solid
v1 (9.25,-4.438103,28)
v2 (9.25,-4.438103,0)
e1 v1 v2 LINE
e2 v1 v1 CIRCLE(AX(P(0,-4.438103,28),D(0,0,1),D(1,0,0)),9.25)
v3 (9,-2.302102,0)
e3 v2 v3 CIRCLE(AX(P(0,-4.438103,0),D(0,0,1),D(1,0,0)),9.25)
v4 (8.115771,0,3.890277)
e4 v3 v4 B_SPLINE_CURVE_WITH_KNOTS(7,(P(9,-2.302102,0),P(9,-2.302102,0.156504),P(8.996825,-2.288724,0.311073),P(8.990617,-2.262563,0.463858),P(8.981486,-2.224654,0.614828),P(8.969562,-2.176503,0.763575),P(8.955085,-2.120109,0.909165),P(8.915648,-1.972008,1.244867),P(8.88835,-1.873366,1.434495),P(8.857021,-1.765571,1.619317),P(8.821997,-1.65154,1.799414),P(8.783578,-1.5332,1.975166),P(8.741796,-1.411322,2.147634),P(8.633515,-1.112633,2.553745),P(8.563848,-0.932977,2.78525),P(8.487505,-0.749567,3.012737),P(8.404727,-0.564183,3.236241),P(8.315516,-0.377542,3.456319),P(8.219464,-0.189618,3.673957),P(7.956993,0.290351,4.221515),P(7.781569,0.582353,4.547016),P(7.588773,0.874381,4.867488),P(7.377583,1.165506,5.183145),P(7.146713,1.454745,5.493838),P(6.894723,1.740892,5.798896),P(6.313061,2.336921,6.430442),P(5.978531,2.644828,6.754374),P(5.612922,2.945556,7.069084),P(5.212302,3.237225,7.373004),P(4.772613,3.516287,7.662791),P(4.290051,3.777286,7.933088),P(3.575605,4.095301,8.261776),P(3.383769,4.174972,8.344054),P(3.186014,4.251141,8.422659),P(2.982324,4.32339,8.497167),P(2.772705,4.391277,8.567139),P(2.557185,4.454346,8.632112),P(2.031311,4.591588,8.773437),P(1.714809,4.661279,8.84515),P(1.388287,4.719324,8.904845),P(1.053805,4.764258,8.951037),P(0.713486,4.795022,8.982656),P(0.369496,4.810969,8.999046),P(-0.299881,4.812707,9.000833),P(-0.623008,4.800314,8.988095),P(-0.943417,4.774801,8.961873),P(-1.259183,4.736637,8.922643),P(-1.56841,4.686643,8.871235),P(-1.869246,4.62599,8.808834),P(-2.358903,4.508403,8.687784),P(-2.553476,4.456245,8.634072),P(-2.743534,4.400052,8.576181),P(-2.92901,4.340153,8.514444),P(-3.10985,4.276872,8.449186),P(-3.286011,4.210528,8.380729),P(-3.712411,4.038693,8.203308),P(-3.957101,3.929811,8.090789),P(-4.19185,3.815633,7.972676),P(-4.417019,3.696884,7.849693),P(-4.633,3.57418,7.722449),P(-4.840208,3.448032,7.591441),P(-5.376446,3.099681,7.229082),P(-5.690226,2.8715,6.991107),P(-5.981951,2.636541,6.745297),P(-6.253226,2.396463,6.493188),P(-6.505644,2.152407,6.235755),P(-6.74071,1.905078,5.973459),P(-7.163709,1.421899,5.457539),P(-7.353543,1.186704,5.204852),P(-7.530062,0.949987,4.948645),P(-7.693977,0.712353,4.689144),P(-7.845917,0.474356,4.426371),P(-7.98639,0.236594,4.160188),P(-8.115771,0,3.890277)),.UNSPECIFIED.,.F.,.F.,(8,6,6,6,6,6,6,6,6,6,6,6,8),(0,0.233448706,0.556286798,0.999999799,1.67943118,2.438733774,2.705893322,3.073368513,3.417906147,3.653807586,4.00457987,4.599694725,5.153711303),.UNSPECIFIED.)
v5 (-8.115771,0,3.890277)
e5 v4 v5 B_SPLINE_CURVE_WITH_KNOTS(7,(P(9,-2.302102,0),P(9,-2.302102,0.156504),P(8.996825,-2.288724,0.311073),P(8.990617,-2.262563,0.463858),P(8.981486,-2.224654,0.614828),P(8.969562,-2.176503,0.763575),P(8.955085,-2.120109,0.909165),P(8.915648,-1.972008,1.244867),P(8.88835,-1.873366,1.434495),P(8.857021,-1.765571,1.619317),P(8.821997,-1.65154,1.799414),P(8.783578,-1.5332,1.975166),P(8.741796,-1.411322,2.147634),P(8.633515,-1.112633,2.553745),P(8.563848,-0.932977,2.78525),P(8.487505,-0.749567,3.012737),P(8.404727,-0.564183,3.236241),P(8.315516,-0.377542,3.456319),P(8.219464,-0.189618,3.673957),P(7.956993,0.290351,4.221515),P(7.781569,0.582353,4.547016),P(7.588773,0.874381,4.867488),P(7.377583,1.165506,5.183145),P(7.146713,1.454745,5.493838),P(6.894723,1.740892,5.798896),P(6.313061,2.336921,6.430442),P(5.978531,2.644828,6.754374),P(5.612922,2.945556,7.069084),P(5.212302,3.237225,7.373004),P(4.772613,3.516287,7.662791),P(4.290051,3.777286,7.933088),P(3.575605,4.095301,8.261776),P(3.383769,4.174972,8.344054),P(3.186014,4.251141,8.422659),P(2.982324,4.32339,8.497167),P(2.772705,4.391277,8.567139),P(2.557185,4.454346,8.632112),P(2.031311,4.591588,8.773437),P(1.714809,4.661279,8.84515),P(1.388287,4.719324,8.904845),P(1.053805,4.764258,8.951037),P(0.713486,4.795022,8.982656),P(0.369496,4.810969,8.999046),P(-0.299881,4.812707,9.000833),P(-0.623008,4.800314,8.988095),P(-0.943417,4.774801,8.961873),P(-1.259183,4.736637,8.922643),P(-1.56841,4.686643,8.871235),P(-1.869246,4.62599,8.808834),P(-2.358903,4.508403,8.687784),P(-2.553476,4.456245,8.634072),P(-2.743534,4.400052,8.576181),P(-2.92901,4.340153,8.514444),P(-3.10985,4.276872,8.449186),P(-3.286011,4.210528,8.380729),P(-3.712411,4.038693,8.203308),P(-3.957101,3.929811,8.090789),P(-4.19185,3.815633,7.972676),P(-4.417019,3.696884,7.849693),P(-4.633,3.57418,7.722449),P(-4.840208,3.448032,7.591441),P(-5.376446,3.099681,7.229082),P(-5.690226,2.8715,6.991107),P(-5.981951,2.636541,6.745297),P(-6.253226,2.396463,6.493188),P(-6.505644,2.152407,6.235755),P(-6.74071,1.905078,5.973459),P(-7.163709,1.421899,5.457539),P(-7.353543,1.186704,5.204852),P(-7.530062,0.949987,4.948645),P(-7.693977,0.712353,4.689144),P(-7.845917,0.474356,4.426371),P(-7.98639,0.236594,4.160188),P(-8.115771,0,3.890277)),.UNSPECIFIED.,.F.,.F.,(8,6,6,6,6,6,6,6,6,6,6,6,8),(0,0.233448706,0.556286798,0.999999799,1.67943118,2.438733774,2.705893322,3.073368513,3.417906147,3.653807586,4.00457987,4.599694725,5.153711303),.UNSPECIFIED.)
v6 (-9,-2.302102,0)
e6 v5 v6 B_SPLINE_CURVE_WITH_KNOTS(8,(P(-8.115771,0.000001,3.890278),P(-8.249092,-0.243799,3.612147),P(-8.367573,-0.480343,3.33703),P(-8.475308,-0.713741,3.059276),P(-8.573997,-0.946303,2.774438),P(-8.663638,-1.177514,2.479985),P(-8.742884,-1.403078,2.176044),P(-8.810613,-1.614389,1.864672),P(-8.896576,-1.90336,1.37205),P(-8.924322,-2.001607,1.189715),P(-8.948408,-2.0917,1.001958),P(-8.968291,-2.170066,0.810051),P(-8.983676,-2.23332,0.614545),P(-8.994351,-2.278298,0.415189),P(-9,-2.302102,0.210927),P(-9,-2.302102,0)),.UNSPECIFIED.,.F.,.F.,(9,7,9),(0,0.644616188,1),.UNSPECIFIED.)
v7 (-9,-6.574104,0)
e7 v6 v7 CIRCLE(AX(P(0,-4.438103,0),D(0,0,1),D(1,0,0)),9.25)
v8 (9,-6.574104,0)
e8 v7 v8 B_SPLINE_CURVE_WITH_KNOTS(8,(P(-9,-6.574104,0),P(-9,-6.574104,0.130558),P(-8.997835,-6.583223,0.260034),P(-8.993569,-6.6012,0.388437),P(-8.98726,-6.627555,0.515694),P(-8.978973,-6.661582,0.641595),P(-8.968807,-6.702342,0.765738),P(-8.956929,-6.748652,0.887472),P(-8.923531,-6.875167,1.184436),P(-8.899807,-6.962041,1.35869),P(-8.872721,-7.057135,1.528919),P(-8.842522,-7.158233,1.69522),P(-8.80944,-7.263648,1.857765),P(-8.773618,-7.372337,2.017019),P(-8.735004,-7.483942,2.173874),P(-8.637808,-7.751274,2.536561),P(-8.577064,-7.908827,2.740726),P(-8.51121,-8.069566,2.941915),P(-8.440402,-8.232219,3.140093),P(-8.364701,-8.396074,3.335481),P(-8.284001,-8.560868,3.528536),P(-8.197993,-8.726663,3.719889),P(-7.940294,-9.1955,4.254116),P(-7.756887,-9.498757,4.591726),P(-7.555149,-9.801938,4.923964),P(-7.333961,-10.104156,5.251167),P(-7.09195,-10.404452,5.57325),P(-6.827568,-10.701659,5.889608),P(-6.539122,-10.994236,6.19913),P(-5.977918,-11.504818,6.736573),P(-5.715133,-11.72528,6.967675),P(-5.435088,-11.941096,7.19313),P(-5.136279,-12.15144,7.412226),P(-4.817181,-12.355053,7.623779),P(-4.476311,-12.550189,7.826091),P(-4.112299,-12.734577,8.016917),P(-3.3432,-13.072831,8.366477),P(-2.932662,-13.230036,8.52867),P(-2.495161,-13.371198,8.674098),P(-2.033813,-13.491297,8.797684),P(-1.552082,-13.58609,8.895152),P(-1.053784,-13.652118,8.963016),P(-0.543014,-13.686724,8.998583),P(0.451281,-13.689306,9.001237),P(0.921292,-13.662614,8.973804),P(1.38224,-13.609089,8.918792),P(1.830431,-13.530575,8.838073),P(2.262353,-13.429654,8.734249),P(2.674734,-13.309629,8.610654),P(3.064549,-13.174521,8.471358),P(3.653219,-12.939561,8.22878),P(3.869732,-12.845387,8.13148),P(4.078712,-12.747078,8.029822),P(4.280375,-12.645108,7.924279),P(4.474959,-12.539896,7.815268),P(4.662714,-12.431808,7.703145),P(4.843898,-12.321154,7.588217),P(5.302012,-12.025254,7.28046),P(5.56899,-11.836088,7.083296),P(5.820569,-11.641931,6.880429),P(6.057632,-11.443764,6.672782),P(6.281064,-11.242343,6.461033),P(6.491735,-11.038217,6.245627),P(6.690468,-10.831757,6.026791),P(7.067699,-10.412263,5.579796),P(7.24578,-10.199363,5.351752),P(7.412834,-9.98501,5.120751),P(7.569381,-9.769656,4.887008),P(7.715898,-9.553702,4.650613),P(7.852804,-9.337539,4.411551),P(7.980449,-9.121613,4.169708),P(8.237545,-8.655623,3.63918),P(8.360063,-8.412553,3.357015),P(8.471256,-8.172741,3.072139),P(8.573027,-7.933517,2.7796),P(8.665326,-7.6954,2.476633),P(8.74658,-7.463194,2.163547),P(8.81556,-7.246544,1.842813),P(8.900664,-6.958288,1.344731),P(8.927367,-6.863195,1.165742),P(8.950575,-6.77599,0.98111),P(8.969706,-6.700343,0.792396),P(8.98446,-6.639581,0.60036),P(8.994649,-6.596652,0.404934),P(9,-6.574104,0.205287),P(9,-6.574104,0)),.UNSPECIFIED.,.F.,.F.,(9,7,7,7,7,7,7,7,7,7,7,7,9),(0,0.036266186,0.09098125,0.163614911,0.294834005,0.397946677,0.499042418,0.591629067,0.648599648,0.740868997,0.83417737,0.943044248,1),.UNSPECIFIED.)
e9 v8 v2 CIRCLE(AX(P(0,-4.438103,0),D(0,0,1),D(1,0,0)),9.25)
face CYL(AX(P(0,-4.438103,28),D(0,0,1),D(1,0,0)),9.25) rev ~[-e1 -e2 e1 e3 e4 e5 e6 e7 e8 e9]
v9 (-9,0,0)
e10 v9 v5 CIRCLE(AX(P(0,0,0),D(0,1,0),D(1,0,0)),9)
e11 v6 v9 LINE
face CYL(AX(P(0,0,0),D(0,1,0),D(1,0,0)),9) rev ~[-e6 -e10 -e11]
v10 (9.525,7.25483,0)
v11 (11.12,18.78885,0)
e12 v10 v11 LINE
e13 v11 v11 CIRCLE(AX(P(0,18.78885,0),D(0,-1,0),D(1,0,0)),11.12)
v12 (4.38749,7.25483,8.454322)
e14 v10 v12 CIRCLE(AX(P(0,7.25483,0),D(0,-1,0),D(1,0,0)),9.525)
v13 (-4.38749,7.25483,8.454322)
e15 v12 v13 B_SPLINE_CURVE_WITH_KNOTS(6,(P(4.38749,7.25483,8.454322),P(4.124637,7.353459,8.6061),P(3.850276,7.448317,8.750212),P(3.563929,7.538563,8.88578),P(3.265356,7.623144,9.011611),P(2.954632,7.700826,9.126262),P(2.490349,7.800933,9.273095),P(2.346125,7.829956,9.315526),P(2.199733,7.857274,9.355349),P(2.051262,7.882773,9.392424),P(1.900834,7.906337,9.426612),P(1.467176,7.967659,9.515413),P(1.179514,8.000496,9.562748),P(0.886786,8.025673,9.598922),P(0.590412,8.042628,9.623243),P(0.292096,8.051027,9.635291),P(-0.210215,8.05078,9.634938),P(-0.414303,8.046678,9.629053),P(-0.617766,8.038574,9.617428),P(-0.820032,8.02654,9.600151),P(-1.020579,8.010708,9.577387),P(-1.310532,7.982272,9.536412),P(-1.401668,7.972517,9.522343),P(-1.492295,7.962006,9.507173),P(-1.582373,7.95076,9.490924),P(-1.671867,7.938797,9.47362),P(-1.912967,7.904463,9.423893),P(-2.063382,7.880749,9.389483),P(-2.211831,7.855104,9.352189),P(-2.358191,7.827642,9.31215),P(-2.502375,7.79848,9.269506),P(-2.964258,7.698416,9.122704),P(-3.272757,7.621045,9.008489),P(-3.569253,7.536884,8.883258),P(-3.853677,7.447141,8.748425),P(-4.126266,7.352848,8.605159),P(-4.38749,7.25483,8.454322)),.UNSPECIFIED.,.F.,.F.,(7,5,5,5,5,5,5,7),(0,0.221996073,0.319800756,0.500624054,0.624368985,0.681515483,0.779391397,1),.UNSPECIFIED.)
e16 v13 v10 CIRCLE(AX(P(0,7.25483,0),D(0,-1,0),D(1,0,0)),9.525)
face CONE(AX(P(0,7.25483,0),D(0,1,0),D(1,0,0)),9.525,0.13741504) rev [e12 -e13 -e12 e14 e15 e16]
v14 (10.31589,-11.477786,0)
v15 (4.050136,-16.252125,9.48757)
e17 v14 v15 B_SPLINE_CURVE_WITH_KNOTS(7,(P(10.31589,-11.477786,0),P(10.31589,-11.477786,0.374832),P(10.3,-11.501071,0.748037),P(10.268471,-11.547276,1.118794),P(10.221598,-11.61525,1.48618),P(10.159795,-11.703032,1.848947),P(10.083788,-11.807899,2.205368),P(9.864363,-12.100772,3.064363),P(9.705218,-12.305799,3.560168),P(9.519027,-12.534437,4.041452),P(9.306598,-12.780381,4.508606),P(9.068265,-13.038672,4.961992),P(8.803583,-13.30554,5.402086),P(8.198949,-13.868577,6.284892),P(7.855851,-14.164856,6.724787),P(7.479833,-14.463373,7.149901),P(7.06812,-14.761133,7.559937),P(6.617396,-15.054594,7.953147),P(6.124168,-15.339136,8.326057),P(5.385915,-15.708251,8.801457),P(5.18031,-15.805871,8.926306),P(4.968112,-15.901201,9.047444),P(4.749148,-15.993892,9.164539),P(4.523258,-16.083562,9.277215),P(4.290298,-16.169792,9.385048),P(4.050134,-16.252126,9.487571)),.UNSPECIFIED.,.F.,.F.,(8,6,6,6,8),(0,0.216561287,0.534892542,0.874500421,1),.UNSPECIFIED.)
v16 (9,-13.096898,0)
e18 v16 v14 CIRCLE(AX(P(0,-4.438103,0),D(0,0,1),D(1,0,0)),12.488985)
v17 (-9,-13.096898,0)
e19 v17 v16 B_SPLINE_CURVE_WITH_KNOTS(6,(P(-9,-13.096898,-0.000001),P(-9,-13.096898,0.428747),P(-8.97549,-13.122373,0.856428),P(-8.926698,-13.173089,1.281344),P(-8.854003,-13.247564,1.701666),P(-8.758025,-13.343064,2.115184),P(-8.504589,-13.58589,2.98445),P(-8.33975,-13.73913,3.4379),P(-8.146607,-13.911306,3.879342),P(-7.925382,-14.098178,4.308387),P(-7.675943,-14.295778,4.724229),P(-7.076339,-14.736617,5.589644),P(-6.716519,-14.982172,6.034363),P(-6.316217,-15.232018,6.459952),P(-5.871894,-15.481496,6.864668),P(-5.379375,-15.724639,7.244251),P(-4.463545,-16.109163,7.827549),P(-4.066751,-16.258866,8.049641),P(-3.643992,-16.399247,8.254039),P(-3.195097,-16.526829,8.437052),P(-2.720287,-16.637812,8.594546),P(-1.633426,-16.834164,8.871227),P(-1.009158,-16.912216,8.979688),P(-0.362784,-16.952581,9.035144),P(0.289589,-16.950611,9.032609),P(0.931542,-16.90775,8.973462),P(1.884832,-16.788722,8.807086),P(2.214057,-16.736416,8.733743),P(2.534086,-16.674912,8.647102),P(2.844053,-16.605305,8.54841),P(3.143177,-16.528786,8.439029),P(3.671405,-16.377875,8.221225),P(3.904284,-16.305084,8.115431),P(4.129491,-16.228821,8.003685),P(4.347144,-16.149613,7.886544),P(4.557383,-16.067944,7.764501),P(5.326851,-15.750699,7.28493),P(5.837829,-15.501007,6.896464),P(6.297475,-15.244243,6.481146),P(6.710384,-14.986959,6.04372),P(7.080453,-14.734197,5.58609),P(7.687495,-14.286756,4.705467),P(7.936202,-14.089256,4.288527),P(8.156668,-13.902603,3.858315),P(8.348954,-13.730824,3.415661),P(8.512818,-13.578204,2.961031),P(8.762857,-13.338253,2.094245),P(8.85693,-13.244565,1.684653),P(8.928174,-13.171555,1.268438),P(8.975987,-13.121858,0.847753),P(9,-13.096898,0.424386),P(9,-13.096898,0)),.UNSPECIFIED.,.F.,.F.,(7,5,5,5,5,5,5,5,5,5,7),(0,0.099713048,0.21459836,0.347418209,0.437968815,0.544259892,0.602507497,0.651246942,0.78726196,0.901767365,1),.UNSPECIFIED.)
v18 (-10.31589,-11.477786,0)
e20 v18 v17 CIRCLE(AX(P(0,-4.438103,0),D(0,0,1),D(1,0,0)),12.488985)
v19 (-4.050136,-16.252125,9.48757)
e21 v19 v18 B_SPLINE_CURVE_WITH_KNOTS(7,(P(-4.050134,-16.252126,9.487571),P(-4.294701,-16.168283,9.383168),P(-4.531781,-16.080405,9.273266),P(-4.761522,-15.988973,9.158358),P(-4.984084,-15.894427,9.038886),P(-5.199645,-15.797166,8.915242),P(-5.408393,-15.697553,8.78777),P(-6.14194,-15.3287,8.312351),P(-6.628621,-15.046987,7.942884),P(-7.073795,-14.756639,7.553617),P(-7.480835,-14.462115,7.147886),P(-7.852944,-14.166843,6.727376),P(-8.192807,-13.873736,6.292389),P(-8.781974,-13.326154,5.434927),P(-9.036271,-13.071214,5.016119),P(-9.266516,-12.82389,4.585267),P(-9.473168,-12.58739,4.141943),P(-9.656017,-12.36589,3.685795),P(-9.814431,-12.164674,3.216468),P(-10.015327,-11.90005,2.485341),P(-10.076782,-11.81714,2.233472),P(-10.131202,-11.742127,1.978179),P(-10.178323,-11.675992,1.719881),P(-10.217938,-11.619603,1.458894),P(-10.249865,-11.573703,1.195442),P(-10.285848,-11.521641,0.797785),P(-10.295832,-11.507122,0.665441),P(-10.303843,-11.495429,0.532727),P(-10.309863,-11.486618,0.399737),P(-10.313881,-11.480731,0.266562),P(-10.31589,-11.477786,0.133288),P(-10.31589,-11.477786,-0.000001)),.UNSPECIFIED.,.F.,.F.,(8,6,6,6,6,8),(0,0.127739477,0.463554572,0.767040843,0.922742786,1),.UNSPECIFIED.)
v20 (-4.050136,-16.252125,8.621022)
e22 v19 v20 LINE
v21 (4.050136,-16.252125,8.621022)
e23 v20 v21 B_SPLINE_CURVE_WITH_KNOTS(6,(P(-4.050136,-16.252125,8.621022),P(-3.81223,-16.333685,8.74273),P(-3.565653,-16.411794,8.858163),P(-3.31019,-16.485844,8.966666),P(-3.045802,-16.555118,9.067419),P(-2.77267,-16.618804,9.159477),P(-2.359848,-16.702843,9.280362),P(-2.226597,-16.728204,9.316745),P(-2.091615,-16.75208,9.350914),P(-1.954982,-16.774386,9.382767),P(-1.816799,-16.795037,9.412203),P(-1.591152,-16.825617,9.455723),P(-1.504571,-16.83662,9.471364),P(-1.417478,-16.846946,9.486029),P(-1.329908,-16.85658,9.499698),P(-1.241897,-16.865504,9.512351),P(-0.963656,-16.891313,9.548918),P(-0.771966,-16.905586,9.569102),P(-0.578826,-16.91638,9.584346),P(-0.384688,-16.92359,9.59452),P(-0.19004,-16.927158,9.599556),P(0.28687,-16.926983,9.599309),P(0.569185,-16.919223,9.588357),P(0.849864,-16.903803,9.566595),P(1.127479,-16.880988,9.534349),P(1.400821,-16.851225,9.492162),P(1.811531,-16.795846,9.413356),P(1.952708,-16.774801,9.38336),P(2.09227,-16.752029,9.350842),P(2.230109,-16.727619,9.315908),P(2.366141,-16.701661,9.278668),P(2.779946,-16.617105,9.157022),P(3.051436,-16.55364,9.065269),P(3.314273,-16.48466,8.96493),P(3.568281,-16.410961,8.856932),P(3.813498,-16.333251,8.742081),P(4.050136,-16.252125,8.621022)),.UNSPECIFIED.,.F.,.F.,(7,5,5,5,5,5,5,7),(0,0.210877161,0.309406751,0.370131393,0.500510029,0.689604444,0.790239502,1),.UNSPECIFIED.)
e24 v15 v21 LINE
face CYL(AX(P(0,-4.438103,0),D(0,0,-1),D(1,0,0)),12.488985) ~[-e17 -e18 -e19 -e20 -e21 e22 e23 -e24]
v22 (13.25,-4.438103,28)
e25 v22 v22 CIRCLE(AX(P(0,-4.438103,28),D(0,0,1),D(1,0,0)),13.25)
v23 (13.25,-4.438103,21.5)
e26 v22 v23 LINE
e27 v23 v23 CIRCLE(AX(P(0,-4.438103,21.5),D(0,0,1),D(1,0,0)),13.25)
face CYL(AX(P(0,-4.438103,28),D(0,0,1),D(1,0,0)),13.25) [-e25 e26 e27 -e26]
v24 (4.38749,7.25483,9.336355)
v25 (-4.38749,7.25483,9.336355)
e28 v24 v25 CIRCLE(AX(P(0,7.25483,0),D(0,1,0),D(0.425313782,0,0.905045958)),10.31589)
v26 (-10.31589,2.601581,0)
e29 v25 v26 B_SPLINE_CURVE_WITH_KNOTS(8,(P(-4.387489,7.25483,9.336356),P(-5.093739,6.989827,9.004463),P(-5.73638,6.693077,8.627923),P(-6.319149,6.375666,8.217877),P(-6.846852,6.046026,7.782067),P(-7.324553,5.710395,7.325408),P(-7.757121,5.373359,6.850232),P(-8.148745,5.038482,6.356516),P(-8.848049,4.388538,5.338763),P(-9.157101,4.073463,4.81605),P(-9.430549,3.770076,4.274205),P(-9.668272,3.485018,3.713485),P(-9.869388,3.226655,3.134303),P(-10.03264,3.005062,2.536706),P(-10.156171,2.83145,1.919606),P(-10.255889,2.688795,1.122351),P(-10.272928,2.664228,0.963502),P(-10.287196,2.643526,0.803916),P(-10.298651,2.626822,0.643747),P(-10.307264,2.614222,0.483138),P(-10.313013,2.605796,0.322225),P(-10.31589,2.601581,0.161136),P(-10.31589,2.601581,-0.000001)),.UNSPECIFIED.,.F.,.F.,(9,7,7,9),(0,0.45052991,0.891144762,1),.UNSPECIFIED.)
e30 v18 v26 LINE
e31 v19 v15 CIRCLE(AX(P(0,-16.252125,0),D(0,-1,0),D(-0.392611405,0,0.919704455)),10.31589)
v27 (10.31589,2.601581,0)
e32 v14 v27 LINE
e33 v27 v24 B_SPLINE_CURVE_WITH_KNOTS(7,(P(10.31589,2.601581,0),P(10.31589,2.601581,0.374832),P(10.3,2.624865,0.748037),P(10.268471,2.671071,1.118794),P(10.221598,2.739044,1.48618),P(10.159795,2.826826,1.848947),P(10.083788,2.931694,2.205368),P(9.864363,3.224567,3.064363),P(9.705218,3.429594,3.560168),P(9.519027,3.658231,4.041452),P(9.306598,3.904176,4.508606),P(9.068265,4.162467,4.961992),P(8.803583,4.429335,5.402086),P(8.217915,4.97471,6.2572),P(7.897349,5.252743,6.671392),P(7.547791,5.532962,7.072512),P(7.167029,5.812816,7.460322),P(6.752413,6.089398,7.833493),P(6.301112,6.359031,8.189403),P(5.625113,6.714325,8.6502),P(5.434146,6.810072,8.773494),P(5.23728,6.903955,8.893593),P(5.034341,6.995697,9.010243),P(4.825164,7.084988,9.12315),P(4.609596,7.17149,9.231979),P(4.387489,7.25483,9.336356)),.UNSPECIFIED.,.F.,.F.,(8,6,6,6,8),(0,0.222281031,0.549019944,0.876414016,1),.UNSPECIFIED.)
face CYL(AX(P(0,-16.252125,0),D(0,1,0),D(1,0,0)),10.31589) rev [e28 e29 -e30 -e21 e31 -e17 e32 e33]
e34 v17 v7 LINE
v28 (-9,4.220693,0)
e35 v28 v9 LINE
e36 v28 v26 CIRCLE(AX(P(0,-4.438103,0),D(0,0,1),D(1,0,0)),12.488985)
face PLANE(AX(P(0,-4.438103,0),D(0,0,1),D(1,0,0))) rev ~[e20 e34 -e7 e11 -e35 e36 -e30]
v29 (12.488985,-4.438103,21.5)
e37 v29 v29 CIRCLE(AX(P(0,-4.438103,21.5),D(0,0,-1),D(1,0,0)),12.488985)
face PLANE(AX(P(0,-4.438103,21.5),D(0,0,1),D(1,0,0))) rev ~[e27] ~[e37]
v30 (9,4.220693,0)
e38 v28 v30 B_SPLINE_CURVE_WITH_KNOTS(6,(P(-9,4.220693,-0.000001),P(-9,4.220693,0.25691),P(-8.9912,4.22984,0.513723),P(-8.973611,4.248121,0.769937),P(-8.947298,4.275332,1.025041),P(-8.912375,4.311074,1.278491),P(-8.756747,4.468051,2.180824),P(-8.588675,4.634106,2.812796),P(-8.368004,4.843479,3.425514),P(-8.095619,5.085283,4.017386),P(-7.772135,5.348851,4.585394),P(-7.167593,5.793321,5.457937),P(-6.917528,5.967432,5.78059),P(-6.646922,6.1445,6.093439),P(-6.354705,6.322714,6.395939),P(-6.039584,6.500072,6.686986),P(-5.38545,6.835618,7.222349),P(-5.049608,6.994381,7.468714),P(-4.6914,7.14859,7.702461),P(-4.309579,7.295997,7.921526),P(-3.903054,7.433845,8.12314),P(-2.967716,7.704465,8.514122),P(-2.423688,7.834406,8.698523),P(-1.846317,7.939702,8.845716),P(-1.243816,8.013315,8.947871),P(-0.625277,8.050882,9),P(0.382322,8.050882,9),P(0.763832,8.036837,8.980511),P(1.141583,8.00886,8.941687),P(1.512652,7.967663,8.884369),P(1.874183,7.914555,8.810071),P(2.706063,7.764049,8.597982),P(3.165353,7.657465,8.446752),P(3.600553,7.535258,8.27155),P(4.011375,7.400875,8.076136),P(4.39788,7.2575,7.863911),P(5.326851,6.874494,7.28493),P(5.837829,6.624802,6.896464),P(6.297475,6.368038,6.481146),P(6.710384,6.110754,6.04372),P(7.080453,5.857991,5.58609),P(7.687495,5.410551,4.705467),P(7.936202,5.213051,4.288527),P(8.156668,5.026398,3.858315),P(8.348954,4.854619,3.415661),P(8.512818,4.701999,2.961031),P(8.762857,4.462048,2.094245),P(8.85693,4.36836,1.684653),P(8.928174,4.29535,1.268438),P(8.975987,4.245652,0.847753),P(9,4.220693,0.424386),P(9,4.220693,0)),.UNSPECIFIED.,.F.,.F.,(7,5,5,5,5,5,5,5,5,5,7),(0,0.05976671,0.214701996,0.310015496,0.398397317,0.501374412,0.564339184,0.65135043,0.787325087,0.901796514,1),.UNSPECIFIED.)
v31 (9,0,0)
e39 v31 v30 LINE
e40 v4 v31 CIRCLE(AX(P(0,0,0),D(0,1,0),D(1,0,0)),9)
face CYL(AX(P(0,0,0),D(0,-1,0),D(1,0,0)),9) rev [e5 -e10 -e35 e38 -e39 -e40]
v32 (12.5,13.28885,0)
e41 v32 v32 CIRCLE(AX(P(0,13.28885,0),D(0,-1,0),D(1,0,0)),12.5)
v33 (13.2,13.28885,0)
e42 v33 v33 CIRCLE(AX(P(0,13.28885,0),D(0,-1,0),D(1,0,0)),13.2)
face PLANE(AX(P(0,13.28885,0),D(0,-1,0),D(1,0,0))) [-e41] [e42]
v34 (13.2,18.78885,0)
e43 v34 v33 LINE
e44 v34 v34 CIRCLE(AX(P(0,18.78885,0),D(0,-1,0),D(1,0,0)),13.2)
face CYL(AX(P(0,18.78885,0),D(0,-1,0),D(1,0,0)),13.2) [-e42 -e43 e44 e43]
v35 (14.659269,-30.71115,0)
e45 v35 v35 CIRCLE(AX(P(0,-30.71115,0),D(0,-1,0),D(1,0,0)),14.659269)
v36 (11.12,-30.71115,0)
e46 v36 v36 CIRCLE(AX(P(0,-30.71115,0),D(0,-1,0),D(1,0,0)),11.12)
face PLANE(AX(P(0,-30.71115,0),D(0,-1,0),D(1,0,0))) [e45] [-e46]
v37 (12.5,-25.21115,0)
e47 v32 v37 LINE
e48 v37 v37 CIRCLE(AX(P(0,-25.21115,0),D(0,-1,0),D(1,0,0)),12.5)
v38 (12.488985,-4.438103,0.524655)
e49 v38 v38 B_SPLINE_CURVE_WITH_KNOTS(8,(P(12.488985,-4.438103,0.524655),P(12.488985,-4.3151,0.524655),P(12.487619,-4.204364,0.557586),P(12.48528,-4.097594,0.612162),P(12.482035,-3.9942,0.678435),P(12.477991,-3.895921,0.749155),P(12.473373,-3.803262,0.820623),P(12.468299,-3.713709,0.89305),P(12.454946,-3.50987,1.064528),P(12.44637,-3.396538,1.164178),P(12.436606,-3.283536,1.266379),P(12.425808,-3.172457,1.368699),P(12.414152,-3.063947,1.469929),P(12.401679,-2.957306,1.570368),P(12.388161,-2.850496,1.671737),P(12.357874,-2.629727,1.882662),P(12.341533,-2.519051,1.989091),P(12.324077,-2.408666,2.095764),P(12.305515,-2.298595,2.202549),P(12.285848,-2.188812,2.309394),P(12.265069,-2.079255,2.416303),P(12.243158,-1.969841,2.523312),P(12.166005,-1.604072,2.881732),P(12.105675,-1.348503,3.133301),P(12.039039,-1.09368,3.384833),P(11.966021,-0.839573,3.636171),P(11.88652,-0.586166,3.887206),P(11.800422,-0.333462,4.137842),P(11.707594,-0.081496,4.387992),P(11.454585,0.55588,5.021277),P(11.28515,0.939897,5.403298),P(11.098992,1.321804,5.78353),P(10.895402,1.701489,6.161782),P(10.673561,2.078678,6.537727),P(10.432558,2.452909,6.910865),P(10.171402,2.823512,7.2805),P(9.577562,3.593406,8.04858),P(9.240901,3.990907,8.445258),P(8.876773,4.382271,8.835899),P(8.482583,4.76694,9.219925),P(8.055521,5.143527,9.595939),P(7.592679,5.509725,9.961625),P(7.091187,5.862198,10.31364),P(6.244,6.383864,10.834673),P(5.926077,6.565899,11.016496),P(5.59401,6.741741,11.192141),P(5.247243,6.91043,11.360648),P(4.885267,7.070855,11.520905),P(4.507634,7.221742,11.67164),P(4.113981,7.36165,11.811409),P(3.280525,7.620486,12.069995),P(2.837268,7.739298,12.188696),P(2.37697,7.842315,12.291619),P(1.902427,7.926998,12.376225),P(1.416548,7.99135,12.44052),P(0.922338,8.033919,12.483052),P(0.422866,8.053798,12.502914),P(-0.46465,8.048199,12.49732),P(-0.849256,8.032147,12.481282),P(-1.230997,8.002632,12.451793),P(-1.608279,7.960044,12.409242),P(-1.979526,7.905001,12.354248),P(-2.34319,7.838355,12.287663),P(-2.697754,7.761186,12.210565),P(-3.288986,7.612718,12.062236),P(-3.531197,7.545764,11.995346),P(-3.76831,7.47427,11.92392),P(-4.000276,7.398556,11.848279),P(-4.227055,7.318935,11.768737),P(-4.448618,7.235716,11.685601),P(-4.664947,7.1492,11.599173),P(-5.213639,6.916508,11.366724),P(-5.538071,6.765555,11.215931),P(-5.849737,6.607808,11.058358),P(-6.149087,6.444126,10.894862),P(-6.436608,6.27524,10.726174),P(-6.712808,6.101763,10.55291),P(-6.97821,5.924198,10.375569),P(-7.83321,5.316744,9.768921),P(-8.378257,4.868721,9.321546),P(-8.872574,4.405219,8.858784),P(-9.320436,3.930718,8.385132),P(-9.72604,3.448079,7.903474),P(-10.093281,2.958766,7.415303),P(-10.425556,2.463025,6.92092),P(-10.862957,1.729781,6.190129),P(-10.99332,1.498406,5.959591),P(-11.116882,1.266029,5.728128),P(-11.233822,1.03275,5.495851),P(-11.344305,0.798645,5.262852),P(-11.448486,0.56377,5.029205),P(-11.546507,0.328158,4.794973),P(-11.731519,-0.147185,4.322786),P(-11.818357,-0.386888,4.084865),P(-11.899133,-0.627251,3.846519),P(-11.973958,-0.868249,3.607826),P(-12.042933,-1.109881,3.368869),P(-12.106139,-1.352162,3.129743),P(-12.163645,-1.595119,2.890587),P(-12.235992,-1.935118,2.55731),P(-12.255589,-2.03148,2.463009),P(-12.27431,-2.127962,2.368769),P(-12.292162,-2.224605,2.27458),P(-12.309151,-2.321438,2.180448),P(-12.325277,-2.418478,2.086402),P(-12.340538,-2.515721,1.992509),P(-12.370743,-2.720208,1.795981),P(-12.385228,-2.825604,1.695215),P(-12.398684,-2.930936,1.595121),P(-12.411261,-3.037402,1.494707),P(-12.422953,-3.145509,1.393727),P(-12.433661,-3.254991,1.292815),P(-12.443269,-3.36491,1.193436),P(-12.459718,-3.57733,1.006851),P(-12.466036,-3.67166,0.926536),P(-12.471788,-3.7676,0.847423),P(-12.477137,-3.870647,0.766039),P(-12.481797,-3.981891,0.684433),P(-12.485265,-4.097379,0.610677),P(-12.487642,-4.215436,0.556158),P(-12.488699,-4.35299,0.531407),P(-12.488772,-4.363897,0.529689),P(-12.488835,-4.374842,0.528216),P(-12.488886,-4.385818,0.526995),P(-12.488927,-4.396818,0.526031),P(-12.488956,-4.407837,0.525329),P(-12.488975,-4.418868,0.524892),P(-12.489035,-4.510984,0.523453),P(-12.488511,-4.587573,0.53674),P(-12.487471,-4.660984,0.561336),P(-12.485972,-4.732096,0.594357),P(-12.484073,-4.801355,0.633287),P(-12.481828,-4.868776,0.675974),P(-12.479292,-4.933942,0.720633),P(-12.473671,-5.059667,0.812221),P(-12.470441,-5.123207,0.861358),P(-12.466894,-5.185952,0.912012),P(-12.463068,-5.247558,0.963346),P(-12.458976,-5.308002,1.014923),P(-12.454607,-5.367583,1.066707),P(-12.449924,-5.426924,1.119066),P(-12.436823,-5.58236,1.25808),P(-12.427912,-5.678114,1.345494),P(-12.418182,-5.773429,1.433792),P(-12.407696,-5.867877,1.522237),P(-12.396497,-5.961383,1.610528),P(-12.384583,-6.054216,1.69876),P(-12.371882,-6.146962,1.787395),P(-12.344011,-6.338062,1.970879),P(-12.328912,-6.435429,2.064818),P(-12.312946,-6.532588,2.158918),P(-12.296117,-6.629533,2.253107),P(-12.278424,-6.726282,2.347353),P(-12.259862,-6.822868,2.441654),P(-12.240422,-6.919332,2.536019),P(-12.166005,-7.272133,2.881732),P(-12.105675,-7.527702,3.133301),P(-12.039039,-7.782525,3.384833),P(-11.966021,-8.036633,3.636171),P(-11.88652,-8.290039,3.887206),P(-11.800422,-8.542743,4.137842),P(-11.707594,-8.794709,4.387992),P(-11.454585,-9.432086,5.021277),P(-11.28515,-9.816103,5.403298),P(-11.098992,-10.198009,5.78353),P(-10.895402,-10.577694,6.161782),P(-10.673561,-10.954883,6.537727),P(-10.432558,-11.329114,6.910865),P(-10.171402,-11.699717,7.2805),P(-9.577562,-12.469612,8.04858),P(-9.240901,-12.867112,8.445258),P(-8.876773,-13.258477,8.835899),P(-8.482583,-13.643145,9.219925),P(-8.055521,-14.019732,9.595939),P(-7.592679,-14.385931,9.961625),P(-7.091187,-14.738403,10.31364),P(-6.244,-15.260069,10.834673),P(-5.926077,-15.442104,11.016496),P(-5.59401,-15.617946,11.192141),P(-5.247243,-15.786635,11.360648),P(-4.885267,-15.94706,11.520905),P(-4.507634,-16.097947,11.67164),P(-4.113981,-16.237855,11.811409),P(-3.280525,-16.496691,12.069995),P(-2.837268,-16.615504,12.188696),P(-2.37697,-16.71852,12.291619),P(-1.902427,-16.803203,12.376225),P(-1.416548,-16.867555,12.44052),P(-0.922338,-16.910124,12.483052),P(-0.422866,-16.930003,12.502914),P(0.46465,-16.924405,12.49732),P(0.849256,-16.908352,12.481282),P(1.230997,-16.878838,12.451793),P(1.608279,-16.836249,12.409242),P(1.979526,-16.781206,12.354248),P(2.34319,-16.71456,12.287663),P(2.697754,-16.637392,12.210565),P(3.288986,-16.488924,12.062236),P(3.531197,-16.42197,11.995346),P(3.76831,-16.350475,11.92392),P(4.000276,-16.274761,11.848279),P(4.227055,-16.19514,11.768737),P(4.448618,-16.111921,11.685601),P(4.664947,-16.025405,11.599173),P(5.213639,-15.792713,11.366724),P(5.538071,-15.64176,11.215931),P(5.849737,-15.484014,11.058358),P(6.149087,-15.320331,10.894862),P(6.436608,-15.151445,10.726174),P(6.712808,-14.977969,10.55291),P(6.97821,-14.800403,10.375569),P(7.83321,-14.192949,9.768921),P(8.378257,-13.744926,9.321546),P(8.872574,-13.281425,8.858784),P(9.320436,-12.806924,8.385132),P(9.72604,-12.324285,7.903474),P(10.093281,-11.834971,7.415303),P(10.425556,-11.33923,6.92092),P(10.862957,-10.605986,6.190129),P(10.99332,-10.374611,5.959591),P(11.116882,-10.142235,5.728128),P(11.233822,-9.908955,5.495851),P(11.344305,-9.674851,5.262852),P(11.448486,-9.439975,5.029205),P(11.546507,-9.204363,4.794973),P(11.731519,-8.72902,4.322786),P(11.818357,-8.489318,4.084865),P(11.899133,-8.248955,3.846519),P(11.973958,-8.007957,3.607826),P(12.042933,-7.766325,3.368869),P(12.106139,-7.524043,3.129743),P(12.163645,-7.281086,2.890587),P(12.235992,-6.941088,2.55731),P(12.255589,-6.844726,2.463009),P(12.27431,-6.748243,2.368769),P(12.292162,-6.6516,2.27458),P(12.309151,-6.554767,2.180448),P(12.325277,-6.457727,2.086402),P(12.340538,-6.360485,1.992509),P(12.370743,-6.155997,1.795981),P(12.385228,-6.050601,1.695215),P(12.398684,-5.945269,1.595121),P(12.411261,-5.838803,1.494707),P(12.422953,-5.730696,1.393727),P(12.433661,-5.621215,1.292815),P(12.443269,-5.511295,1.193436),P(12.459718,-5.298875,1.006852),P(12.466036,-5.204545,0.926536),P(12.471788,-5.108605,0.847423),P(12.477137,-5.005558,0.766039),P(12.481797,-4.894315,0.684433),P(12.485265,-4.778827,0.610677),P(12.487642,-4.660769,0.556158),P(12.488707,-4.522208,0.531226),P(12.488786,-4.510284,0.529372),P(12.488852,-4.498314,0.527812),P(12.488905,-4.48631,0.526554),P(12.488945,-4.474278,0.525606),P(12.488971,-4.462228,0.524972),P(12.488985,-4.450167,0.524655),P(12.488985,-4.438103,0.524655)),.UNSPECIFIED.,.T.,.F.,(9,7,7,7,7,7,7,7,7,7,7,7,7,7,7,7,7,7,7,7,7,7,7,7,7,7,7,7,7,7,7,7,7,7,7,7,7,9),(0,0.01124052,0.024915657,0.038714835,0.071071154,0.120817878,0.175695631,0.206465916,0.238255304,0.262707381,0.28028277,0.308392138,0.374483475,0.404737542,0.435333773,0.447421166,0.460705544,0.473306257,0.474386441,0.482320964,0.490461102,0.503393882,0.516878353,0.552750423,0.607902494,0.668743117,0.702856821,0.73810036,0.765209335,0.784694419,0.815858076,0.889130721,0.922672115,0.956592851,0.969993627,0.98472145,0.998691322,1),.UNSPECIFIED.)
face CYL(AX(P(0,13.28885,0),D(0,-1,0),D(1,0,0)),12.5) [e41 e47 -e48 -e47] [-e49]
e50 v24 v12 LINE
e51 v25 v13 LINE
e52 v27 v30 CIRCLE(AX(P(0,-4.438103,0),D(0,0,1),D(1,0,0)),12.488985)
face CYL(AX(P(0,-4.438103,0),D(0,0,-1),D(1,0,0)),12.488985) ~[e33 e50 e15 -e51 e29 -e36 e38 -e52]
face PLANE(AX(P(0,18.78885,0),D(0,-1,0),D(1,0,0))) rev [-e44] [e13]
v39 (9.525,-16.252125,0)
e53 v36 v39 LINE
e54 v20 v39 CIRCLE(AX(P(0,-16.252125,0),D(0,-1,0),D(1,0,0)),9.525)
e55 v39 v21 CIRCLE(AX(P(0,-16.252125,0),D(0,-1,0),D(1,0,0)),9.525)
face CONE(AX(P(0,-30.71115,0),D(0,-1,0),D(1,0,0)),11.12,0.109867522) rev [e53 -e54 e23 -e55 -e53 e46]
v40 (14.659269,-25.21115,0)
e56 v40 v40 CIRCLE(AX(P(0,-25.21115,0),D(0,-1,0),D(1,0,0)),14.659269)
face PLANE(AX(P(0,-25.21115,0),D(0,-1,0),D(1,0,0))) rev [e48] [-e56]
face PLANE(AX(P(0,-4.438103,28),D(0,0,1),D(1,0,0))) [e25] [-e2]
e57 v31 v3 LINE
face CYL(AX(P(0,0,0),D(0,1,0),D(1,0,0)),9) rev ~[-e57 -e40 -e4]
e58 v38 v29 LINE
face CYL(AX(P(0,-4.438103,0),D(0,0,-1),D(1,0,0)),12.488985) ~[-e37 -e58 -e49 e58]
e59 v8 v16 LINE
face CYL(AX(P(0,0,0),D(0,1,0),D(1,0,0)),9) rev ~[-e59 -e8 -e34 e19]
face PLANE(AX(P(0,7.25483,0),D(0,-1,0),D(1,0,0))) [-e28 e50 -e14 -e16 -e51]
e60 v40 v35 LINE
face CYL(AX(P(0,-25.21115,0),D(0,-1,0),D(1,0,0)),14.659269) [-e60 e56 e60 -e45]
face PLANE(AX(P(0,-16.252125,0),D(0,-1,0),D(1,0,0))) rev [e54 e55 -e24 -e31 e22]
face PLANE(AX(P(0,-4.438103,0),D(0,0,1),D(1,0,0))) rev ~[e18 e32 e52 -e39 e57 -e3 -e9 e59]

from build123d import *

# Parameters (mm, degrees)
CROQUIS2_R                 = 12.488984619
SALIENTE_EXTRUIR1_DEPTH    = 28
CROQUIS3_R                 = 9
CORTAR_EXTRUIR1_DEPTH      = 19.788850508
CORTAR_EXTRUIR1_DEPTH_BACK = 31.711149692
CROQUIS4_R                 = 13.25
SALIENTE_EXTRUIR2_DEPTH    = 6.5
CORTAR_EXTRUIR2_REACH      = 44.659
CROQUIS5_R                 = 9.25


with BuildPart() as part:
    # Croquis1 → Revolución1 (revolve)
    with BuildSketch(Plane.XY):
        Polygon((11.12, 18.788850408), (13.2, 18.788850408), (13.2, 13.288850408), (12.5, 13.288850408), (12.5, -25.211149592), (14.659269355, -25.211149592), (14.659269355, -30.711149592), (11.12, -30.711149592), (9.525, -16.252125457), (10.31589022, -16.252125457), (10.31589022, 7.254829614), (9.525, 7.254829614), align=None)
    revolve(axis=Axis((0, 29.936319964, 0), (0, -1, 0)))

    # Croquis2 → Saliente-Extruir1 (add)
    with BuildSketch(Plane.XY):
        with Locations((0, -4.438102688)):
            Circle(CROQUIS2_R)
    extrude(amount=SALIENTE_EXTRUIR1_DEPTH)

    # Croquis3 → Cortar-Extruir1 (cut, two sides)
    with BuildSketch(Plane(origin=(0, 0, 0), x_dir=(1, 0, 0), z_dir=(0, 1, 0))) as cortar_extruir1_sk:
        Circle(CROQUIS3_R)
    extrude(amount=CORTAR_EXTRUIR1_DEPTH, mode=Mode.SUBTRACT)
    extrude(cortar_extruir1_sk.sketch, amount=-CORTAR_EXTRUIR1_DEPTH_BACK, mode=Mode.SUBTRACT)

    # Croquis4 → Saliente-Extruir2 (add)
    with BuildSketch(Plane.XY.offset(28)):
        with Locations((0, -4.438102688)):
            Circle(CROQUIS4_R)
    extrude(amount=-SALIENTE_EXTRUIR2_DEPTH)

    # Croquis5 → Cortar-Extruir2 (cut, up to next)
    with BuildSketch(Plane.XY.offset(28), mode=Mode.PRIVATE) as cortar_extruir2_sk1:
        with Locations((0, -4.438102688)):
            Circle(CROQUIS5_R)
    cortar_extruir2_tool1 = extrude(cortar_extruir2_sk1.sketch, amount=-CORTAR_EXTRUIR2_REACH, mode=Mode.PRIVATE) & part.part
    add(cortar_extruir2_tool1.solids().sort_by_distance((0, -4.438103, 28))[0], mode=Mode.SUBTRACT)


solid = part.part
